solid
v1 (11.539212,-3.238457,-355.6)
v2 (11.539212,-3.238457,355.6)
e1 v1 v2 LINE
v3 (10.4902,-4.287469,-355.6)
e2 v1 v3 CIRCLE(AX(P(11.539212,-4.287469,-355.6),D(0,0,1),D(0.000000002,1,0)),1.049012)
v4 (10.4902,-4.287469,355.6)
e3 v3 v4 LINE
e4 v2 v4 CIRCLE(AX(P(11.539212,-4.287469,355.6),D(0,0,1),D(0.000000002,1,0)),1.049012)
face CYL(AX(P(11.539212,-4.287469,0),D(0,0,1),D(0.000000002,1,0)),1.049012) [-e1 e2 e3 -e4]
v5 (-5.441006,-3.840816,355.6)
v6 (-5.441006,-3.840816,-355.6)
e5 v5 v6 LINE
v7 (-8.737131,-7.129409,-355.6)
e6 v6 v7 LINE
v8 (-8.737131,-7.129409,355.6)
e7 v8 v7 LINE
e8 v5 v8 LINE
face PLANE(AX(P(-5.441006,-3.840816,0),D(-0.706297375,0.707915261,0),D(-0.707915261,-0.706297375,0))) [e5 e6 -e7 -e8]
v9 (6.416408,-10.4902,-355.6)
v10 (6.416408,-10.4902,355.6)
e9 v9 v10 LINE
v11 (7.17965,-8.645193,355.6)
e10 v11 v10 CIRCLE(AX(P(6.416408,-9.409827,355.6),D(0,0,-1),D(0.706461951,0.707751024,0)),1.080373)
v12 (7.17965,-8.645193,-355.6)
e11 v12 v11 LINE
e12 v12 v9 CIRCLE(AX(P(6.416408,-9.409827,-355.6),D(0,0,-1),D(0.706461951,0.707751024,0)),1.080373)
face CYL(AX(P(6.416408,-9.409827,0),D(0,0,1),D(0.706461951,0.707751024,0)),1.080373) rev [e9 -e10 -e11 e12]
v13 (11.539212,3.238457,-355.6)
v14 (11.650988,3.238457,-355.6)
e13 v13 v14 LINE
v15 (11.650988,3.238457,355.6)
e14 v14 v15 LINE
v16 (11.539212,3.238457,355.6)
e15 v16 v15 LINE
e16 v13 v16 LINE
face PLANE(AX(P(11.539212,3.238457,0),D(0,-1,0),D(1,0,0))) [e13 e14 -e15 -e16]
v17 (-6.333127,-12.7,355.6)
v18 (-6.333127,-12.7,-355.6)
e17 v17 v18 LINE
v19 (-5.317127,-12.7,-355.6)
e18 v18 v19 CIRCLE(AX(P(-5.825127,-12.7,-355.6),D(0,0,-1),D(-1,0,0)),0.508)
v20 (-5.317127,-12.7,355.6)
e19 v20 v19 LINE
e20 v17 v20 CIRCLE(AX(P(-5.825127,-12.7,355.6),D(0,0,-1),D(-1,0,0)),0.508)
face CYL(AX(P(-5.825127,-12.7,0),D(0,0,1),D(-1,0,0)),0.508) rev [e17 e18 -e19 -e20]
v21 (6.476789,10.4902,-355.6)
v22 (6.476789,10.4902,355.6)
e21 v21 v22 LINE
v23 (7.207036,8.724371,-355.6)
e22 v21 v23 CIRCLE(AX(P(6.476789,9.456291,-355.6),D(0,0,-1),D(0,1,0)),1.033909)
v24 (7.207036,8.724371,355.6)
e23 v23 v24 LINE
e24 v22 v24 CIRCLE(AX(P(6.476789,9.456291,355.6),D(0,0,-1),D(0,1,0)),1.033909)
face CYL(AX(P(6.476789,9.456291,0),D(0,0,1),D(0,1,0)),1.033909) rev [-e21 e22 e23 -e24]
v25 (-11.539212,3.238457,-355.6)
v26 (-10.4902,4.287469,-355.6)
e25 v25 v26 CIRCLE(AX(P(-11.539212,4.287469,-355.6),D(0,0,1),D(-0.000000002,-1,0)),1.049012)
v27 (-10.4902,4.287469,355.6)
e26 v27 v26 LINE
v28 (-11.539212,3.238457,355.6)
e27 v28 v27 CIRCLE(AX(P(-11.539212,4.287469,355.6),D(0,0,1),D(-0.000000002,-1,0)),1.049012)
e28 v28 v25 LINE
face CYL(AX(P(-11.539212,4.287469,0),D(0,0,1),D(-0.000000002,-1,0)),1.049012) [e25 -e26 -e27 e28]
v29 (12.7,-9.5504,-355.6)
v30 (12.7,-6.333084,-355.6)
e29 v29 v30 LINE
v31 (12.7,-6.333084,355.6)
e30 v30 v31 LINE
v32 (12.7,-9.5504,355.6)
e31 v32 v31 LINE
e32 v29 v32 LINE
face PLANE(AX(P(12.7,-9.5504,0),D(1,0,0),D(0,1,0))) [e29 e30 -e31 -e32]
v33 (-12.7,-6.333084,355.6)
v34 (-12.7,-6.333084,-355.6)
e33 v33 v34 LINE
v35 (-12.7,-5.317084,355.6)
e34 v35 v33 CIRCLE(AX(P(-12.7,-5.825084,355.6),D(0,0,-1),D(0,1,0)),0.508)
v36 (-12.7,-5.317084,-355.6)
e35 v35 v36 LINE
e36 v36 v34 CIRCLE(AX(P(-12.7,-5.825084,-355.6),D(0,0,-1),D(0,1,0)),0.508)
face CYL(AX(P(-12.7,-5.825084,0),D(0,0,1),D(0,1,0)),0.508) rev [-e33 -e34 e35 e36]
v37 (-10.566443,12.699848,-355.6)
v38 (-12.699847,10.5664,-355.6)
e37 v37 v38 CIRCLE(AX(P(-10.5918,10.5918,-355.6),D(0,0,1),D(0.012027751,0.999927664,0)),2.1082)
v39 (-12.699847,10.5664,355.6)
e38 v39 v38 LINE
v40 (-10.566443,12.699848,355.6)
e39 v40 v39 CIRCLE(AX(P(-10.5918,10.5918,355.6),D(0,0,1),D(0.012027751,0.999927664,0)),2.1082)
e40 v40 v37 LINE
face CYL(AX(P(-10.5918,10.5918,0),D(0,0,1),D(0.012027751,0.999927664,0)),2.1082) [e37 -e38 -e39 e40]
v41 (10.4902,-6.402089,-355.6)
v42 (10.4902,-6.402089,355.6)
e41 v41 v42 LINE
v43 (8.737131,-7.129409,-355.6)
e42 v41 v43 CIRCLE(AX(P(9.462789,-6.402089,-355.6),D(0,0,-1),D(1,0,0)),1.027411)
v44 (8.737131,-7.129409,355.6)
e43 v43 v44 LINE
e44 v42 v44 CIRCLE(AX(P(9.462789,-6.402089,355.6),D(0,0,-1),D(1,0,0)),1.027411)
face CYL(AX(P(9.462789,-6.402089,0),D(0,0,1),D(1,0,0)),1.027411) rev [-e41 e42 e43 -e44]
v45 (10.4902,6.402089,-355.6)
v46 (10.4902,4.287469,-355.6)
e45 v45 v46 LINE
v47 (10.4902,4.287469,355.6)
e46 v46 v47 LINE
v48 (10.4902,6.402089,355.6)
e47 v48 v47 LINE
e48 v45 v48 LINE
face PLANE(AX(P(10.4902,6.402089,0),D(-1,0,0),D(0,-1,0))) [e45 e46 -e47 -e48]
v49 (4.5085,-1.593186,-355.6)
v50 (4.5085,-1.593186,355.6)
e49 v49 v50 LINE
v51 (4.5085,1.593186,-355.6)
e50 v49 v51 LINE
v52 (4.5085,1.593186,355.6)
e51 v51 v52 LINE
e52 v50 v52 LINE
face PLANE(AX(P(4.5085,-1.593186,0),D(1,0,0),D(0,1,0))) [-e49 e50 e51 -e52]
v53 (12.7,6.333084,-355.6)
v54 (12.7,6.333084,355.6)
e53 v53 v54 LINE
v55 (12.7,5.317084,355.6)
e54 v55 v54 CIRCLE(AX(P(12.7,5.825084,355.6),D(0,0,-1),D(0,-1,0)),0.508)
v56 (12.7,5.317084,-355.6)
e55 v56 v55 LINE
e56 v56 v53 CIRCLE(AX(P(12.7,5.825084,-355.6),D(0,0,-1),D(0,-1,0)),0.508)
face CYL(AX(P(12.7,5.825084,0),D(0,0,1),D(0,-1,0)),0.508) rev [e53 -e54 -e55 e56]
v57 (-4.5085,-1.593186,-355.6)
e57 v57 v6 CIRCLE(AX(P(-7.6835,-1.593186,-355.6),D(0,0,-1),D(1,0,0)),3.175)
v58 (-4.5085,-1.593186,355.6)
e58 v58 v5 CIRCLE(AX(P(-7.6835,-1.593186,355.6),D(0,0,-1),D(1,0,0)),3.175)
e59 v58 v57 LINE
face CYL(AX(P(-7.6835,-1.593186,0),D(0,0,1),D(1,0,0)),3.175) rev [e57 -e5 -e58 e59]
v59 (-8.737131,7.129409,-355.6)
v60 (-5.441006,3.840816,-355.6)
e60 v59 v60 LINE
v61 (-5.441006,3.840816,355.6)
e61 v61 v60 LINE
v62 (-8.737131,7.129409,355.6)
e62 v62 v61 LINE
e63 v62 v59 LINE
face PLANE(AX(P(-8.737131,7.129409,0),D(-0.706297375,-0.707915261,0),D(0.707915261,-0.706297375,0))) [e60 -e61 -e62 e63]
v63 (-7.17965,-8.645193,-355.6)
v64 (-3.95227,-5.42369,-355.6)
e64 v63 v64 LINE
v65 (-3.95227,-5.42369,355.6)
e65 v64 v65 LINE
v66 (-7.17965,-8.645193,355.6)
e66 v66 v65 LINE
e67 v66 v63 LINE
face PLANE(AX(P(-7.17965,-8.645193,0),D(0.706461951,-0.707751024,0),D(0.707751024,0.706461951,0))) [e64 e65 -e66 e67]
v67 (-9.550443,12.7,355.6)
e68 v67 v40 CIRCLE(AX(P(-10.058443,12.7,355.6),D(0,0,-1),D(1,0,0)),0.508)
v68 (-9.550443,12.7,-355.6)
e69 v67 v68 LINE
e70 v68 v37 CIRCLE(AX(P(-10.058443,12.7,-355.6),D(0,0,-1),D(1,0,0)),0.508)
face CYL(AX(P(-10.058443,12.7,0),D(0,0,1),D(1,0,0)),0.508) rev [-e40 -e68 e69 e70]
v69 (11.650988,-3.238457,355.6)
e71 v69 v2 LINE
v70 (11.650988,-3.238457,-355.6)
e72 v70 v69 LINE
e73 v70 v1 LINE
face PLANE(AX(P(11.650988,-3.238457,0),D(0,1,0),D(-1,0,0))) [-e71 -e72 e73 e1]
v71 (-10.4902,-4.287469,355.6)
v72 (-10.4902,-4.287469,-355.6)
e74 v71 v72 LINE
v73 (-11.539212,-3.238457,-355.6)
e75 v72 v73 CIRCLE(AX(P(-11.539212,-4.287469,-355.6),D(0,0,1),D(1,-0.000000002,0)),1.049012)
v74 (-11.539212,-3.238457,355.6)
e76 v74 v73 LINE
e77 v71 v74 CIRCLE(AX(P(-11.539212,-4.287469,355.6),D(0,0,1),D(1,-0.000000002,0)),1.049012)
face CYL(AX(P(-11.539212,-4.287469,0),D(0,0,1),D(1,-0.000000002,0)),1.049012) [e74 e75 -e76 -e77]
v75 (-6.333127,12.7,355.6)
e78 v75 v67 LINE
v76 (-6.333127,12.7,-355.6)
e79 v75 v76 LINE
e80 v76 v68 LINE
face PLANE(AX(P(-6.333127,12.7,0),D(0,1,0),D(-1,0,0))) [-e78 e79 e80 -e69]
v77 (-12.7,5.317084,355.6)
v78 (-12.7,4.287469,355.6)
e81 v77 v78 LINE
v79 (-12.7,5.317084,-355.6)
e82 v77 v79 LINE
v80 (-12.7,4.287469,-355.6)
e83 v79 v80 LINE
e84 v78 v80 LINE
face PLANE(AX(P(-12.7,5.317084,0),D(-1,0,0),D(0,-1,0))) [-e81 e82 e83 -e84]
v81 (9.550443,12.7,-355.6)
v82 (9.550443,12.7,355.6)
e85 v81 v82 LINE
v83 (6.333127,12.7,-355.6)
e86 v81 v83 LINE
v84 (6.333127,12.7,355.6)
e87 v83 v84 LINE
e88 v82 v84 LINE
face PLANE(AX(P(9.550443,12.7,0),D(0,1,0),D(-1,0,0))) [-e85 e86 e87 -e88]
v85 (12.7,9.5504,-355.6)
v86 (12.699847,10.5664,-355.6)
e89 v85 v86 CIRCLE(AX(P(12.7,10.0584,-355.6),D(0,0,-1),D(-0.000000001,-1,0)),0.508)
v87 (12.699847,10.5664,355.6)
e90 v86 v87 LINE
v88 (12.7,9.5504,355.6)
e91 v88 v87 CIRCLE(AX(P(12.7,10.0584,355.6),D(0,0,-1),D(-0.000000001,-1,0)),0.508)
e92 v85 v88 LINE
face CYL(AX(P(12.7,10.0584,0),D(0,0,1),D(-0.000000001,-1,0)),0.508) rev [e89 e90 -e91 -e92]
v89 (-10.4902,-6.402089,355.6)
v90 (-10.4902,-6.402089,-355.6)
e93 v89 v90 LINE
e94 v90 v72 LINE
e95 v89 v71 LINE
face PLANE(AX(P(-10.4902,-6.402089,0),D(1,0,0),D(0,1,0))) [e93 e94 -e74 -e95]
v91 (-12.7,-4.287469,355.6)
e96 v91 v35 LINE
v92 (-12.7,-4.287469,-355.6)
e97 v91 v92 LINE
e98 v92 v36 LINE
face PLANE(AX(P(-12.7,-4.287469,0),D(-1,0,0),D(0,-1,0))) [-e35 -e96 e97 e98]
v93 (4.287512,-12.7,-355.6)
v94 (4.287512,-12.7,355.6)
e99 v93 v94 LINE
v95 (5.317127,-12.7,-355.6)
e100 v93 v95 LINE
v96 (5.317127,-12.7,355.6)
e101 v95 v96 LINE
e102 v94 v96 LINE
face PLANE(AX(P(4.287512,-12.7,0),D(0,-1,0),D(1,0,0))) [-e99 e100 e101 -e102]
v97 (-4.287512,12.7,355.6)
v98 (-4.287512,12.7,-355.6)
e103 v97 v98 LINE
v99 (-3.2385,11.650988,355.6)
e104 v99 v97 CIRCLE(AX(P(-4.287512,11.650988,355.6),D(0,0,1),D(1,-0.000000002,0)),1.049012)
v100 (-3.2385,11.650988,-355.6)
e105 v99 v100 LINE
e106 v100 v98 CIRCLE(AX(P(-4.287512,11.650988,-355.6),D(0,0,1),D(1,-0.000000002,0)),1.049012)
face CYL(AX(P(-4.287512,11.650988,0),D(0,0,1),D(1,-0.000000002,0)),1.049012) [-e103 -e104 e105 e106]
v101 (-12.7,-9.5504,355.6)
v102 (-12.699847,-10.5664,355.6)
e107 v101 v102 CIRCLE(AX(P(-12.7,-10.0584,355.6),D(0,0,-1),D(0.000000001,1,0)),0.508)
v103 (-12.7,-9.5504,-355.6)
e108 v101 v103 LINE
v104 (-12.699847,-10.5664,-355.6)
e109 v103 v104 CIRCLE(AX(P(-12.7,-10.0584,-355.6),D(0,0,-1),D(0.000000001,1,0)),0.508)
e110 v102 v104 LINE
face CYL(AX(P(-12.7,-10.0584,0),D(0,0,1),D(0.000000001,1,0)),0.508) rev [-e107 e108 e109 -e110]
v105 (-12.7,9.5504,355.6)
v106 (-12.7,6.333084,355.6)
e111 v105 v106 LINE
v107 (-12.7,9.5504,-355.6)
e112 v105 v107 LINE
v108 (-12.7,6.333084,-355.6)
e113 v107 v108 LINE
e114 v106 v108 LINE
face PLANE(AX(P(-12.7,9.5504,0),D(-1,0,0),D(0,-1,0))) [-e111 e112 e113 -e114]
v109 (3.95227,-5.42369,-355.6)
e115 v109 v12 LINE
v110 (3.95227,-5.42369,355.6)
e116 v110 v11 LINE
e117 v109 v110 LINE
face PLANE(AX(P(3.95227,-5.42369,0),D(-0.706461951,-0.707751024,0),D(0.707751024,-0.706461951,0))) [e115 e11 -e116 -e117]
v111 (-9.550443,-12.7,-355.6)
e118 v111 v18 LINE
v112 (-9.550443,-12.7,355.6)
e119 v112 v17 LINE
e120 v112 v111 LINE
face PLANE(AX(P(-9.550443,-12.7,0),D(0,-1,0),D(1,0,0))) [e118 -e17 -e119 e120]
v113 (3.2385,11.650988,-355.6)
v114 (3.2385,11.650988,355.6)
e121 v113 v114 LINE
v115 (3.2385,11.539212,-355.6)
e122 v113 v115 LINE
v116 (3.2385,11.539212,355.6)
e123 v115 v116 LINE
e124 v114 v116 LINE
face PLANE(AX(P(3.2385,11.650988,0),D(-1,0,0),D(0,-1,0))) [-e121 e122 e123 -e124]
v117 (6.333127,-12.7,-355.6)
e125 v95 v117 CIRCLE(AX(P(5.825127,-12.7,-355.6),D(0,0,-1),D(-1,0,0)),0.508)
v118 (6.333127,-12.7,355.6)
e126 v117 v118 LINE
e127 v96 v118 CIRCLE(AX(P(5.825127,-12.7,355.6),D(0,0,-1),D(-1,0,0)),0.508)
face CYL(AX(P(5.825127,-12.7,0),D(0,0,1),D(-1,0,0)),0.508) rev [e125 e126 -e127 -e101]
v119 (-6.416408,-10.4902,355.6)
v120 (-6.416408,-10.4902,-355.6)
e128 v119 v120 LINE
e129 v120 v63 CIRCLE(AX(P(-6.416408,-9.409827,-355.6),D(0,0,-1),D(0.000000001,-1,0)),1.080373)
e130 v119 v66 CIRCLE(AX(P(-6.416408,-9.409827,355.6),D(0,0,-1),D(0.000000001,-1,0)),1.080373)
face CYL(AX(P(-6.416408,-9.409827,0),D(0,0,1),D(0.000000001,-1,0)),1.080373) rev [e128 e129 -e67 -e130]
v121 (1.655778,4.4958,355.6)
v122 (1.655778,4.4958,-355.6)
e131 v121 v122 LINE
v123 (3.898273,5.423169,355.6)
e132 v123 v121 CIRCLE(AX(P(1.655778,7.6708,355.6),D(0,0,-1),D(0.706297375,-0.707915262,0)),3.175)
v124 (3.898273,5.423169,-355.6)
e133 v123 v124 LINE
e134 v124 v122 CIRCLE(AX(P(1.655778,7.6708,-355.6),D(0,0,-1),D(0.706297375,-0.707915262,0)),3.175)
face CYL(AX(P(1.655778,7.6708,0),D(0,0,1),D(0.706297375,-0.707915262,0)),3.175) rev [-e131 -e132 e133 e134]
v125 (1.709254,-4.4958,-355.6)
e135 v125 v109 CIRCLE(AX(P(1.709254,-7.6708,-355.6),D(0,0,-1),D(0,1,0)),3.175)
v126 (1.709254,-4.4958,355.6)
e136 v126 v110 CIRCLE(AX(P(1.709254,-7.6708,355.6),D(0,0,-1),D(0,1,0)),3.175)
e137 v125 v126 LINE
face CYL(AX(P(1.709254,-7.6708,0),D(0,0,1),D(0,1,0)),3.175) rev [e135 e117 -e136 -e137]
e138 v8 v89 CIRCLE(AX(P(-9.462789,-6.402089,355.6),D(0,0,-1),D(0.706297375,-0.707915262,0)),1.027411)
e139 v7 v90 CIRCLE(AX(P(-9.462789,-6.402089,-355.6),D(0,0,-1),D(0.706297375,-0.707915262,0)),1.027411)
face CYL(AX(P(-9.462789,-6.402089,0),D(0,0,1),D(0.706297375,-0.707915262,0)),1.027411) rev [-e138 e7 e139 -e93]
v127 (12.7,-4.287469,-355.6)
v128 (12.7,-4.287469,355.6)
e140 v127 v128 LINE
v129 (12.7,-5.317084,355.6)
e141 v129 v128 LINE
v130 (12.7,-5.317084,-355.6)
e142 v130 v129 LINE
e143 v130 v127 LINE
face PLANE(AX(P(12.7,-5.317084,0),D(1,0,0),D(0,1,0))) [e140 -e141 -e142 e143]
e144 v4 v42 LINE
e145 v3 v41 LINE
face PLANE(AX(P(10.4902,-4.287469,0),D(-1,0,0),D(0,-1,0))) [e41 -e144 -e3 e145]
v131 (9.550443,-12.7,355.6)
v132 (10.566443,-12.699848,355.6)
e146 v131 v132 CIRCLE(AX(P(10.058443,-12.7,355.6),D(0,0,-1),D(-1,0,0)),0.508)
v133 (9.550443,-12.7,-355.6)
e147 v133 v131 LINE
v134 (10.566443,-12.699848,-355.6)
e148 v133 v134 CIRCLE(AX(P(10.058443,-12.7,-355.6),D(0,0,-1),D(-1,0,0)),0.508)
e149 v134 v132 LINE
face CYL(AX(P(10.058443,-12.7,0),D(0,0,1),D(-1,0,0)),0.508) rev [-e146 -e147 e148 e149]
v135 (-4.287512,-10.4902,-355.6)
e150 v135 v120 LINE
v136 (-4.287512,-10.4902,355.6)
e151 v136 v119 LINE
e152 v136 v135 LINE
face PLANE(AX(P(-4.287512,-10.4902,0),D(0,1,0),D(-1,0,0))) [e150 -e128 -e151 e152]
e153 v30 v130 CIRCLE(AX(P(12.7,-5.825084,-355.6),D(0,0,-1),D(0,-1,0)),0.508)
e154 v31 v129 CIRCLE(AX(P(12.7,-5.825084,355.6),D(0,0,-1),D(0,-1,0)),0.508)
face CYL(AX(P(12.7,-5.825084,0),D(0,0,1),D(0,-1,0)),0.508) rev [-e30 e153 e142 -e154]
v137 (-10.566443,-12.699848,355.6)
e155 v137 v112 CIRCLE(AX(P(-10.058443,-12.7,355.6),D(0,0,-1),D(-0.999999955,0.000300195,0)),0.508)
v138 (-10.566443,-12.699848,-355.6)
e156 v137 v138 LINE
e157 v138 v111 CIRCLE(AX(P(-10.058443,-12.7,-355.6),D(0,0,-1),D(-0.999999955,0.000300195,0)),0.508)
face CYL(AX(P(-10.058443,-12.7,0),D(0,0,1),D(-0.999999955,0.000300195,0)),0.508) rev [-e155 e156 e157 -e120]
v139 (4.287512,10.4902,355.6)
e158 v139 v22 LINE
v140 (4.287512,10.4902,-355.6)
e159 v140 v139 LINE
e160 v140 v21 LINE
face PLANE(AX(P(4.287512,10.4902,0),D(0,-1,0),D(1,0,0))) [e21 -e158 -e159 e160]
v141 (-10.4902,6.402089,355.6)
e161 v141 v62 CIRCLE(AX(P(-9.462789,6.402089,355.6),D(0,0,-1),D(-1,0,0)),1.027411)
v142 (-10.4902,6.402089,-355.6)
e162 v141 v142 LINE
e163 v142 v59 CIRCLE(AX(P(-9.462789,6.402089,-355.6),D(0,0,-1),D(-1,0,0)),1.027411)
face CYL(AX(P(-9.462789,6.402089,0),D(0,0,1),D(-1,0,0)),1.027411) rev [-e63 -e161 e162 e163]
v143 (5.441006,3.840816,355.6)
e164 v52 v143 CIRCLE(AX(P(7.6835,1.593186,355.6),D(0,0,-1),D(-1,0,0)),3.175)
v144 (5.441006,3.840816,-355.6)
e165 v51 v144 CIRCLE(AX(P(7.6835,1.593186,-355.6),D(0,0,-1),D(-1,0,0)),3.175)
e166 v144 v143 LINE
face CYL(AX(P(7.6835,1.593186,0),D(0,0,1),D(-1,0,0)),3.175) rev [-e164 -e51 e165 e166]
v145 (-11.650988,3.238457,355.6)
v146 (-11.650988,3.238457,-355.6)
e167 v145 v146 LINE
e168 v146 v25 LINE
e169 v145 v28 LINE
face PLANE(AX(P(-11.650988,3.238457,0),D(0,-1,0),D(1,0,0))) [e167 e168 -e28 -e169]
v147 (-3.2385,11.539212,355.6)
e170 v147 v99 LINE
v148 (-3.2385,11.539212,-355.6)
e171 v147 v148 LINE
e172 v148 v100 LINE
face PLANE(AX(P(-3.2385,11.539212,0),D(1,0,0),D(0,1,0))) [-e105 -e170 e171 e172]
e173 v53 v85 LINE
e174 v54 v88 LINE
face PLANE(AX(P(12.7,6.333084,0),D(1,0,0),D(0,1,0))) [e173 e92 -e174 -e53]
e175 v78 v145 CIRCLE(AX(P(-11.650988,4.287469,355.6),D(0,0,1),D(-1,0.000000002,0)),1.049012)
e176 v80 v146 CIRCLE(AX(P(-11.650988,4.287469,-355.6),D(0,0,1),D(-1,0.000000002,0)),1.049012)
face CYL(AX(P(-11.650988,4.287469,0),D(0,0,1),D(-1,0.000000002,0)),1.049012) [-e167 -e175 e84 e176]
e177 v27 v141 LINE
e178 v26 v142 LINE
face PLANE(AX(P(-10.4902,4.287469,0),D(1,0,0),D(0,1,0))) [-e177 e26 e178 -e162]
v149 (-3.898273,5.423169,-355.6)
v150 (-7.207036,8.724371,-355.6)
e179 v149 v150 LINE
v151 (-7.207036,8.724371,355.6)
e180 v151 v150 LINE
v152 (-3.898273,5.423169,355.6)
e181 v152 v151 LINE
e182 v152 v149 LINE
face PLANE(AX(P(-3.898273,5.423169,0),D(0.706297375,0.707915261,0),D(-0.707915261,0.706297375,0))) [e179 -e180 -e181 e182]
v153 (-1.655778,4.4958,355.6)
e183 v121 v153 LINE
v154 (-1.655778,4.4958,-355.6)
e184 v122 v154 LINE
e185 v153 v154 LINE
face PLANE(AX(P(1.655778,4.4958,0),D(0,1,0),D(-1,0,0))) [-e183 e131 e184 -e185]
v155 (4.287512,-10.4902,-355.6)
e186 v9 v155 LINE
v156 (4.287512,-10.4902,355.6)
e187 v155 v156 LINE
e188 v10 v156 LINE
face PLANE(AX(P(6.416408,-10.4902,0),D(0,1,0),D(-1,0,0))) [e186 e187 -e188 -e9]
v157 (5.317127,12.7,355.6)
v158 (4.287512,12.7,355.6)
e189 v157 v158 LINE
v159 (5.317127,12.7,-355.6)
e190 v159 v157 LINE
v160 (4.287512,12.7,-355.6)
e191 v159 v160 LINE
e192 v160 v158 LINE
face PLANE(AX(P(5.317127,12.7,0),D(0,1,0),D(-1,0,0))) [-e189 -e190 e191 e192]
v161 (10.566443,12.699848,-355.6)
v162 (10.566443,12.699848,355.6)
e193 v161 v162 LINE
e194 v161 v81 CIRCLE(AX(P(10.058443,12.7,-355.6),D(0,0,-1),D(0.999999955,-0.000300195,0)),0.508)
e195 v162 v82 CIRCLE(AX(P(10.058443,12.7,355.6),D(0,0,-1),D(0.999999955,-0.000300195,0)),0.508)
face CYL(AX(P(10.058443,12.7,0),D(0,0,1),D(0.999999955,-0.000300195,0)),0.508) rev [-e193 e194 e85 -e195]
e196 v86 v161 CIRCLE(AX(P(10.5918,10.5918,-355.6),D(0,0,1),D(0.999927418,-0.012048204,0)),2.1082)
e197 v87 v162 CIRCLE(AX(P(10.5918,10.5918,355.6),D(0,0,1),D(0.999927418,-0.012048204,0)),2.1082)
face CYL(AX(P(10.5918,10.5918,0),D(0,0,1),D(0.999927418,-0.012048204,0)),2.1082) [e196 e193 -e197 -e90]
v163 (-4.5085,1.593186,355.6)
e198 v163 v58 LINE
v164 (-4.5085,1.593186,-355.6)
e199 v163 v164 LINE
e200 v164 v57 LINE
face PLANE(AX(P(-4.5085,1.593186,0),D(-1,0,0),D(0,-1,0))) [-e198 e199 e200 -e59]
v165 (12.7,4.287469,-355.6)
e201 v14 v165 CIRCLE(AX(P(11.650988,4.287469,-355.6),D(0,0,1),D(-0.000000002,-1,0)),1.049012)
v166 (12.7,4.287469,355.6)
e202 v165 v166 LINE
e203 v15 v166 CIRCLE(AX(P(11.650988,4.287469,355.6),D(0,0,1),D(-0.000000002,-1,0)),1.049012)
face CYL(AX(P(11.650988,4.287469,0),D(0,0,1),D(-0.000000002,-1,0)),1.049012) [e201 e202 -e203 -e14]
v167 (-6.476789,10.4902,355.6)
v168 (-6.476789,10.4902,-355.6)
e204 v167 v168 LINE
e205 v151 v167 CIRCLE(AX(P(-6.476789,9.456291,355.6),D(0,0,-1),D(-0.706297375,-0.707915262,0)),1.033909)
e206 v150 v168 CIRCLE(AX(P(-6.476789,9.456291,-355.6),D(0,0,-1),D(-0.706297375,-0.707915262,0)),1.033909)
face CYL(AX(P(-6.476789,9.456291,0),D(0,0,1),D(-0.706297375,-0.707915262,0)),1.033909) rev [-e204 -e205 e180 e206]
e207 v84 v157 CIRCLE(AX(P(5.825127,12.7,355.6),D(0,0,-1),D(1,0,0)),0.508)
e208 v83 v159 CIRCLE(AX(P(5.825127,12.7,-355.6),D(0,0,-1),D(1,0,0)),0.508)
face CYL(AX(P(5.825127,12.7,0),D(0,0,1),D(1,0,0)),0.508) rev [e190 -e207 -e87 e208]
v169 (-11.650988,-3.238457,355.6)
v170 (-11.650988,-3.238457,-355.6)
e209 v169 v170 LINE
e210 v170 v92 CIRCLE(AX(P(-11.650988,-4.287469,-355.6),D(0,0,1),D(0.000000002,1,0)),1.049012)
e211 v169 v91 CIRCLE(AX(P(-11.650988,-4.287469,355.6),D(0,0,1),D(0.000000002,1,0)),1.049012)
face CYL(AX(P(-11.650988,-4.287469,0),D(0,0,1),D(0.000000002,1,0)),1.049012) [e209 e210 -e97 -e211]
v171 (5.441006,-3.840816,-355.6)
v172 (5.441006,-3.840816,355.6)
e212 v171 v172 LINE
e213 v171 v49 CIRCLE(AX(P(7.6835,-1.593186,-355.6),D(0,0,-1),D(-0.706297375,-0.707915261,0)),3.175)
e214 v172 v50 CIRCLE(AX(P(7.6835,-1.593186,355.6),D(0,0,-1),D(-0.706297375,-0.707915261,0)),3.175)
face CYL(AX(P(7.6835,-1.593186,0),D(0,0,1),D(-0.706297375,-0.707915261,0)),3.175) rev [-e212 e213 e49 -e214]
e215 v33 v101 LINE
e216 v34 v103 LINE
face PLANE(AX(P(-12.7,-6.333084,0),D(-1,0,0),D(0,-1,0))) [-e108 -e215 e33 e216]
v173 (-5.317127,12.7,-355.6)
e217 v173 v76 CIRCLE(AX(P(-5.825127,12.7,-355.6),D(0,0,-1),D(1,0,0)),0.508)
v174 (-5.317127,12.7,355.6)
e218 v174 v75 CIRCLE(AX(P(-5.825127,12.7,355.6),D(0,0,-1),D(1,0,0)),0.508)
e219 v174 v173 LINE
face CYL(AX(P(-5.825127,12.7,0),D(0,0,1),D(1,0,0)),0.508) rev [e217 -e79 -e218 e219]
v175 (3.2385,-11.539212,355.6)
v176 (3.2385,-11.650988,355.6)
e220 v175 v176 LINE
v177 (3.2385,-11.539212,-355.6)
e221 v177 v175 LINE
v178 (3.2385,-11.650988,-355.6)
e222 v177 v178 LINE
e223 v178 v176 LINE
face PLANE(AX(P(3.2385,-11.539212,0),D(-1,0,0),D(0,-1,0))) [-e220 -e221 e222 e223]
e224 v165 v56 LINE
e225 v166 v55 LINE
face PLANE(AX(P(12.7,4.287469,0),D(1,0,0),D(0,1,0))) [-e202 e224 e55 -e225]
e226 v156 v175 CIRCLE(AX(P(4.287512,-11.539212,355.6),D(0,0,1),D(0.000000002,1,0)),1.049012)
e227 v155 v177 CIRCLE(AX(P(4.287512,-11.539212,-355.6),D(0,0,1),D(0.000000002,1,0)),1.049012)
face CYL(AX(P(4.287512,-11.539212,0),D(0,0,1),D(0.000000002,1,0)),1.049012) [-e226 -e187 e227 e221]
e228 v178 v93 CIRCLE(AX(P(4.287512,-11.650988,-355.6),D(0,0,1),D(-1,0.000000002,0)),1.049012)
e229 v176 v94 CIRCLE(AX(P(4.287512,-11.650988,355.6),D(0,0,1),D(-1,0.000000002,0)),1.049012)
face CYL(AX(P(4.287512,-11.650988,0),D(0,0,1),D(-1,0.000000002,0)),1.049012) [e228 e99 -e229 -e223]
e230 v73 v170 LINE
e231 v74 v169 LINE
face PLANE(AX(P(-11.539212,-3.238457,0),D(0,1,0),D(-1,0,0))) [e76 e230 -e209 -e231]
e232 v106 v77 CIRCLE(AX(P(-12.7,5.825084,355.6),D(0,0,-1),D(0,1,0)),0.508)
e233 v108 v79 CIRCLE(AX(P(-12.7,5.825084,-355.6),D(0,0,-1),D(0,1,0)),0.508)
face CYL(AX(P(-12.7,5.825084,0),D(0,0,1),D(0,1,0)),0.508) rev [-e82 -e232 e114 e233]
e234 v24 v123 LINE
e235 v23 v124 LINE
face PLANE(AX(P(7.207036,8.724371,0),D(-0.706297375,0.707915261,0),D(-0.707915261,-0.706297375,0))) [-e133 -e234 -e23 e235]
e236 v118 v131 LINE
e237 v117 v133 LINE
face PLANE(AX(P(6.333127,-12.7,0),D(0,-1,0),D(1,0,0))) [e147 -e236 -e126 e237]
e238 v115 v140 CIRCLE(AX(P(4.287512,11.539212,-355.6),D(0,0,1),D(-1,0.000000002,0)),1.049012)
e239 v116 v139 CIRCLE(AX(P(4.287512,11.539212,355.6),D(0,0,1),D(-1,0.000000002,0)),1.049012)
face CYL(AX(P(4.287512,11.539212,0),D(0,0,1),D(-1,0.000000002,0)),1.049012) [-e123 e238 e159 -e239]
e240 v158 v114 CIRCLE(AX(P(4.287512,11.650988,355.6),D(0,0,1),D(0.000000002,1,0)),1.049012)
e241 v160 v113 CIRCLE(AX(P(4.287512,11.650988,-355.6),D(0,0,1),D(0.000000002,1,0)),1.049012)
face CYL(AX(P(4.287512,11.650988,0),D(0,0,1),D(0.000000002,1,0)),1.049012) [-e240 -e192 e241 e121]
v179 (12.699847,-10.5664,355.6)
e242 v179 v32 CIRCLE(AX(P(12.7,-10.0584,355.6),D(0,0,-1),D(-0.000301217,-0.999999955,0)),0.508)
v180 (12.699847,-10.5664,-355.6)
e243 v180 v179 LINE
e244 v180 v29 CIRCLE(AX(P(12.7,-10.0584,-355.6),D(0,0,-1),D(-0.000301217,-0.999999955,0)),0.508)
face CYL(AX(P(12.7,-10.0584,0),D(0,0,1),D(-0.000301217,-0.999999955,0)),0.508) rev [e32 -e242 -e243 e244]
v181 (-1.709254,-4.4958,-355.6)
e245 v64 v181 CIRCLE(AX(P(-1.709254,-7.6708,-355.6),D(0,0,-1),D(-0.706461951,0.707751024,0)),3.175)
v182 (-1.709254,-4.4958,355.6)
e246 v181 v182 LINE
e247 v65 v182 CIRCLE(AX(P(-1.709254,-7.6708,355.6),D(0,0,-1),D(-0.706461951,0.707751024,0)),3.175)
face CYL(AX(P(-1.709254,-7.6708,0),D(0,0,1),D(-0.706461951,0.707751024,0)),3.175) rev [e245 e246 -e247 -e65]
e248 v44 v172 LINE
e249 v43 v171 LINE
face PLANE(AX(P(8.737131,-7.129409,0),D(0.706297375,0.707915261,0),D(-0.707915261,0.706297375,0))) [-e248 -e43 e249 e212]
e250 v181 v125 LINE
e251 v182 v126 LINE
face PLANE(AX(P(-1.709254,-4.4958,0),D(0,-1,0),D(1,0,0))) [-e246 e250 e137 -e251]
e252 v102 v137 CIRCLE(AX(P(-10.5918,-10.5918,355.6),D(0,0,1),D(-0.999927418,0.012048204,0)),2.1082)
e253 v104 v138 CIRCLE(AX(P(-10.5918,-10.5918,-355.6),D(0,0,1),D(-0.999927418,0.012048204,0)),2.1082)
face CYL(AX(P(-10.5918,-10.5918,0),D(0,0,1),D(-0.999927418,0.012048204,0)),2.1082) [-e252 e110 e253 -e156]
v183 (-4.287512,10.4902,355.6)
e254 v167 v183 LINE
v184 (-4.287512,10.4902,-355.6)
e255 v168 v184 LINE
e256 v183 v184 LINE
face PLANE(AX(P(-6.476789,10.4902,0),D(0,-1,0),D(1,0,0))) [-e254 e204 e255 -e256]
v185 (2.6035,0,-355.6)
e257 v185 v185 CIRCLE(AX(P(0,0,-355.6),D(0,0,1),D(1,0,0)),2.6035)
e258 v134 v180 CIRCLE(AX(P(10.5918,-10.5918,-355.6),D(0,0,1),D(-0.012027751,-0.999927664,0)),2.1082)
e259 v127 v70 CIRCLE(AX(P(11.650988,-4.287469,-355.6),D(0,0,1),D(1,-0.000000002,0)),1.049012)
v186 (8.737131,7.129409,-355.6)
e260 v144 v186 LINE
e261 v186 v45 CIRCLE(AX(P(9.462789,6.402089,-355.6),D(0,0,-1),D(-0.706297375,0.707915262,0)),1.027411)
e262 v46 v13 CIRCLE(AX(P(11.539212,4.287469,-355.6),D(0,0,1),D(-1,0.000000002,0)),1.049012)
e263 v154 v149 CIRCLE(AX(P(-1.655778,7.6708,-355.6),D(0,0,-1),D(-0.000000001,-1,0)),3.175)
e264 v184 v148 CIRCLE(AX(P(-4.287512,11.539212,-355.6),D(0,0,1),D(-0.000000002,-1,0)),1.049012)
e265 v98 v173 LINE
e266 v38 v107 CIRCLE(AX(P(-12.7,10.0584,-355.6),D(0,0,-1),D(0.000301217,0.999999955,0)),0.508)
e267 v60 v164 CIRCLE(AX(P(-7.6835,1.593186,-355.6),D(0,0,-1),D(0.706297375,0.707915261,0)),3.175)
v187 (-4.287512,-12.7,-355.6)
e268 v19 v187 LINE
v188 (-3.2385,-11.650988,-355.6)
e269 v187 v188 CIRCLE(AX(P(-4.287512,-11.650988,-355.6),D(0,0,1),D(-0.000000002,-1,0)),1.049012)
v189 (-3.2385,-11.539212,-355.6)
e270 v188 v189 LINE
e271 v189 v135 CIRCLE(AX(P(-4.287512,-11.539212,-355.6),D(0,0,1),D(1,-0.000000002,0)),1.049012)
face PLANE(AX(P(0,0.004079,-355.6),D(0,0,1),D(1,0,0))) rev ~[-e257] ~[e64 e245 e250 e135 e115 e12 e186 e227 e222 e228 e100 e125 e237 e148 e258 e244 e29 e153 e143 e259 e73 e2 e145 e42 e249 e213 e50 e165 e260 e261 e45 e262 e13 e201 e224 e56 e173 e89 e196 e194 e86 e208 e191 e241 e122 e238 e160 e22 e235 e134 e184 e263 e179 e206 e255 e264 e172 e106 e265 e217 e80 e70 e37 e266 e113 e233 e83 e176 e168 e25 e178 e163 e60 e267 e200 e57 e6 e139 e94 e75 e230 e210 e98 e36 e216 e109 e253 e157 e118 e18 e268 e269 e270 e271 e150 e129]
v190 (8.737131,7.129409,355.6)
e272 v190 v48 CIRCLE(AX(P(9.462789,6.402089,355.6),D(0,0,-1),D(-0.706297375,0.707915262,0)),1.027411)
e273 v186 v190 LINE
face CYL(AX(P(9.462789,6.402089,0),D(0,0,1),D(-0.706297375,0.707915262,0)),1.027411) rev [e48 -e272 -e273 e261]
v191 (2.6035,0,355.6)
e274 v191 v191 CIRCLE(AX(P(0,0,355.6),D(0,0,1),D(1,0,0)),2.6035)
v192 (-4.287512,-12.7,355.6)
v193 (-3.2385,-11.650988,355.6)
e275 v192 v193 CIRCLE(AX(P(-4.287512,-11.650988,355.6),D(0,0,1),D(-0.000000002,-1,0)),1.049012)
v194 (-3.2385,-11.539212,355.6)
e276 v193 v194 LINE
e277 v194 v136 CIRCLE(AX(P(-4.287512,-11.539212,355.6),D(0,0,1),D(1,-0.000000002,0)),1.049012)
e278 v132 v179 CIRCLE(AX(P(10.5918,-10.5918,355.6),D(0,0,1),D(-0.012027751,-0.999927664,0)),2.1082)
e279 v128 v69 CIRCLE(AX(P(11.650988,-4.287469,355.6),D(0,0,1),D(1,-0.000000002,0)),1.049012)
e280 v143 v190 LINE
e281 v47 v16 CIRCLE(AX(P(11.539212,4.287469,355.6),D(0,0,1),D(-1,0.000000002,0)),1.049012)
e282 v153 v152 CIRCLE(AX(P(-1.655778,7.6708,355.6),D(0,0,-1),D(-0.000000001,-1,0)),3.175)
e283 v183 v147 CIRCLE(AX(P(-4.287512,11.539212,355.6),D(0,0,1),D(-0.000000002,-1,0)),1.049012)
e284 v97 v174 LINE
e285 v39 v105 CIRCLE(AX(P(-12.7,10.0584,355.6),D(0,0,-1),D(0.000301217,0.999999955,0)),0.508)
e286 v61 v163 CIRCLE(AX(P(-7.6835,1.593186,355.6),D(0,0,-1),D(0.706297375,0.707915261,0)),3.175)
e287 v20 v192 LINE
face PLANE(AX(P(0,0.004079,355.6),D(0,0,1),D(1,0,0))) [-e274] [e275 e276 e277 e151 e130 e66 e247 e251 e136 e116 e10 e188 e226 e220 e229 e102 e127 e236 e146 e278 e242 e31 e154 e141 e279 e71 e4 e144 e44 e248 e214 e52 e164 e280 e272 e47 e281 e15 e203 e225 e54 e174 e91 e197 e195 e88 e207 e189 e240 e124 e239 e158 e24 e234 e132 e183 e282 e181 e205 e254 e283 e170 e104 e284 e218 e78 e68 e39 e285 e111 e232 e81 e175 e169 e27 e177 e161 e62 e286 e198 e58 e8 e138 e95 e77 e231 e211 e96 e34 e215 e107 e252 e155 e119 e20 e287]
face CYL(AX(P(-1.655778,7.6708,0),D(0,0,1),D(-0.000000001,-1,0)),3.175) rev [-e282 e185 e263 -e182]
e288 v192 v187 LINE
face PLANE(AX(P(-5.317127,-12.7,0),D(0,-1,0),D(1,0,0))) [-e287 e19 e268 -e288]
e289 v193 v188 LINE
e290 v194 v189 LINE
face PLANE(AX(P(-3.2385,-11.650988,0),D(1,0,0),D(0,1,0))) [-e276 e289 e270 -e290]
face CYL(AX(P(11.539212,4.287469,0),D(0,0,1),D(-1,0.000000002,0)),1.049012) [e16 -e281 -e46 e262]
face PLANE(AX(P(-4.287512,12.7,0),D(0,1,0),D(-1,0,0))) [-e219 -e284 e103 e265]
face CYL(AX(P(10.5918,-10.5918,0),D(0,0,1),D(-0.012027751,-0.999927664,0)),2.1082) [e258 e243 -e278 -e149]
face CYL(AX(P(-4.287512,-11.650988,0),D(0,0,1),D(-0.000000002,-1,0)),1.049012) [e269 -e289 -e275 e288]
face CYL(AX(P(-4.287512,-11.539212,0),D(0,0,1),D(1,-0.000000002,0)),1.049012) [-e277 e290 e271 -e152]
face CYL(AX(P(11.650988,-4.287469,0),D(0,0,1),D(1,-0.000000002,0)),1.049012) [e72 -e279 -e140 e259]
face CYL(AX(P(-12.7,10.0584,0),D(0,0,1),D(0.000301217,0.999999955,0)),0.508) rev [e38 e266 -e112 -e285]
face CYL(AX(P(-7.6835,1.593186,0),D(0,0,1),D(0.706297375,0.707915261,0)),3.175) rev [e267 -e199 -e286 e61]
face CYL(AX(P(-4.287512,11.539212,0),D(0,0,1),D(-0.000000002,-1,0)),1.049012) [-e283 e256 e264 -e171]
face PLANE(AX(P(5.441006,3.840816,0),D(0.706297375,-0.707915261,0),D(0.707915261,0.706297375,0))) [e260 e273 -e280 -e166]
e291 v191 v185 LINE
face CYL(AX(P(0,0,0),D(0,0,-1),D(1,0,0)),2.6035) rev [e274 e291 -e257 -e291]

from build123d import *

# Parameters (mm, degrees)
SKETCH1_R           = 2.6035
BOSS_EXTRUDE1_DEPTH = 355.6


with BuildPart() as part:
    # Sketch1 → Boss-Extrude1 (new body, symmetric)
    with BuildSketch(Plane.XY):
        with BuildLine():
            Line((-7.179650497, -8.645192506), (-3.952270251, -5.423690499))
            ThreePointArc((-3.952270251, -5.423690499), (-2.922936451, -4.736929036), (-1.709253557, -4.4958))
            Line((-1.709253557, -4.4958), (1.709253557, -4.4958))
            ThreePointArc((1.709253557, -4.4958), (2.922936451, -4.736929036), (3.952270251, -5.423690499))
            Line((3.952270251, -5.423690499), (7.179650497, -8.645192506))
            ThreePointArc((7.179650497, -8.645192506), (7.41473083, -9.822813117), (6.416408329, -10.4902))
            Line((6.416408329, -10.4902), (4.287512407, -10.4902))
            ThreePointArc((4.287512407, -10.4902), (3.54574862, -10.79744862), (3.2385, -11.539212407))
            Line((3.2385, -11.539212407), (3.2385, -11.650987593))
            ThreePointArc((3.2385, -11.650987593), (3.54574862, -12.39275138), (4.287512407, -12.7))
            Line((4.287512407, -12.7), (5.317126718, -12.7))
            ThreePointArc((5.317126718, -12.7), (5.825126718, -12.192), (6.333126718, -12.7))
            Line((6.333126718, -12.7), (9.550443118, -12.7))
            ThreePointArc((9.550443118, -12.7), (10.058366869, -12.192000006), (10.566443095, -12.699847501))
            ThreePointArc((10.566443095, -12.699847501), (12.082537762, -12.08250727), (12.699846982, -10.566399977))
            ThreePointArc((12.699846982, -10.566399977), (12.192000006, -10.058323491), (12.7, -9.5504))
            Line((12.7, -9.5504), (12.7, -6.3330836))
            ThreePointArc((12.7, -6.3330836), (12.192, -5.8250836), (12.7, -5.3170836))
            Line((12.7, -5.3170836), (12.7, -4.287469289))
            ThreePointArc((12.7, -4.287469289), (12.39275138, -3.545705502), (11.650987593, -3.238456882))
            Line((11.650987593, -3.238456882), (11.539212407, -3.238456882))
            ThreePointArc((11.539212407, -3.238456882), (10.79744862, -3.545705502), (10.4902, -4.287469289))
            Line((10.4902, -4.287469289), (10.4902, -6.402089023))
            ThreePointArc((10.4902, -6.402089023), (9.856505071, -7.351067942), (8.737131347, -7.129408934))
            Line((8.737131347, -7.129408934), (5.441005833, -3.840816462))
            ThreePointArc((5.441005833, -3.840816462), (4.750877967, -2.809883091), (4.5085, -1.593185507))
            Line((4.5085, -1.593185507), (4.5085, 1.593185507))
            ThreePointArc((4.5085, 1.593185507), (4.750877967, 2.809883091), (5.441005833, 3.840816462))
            Line((5.441005833, 3.840816462), (8.737131347, 7.129408934))
            ThreePointArc((8.737131347, 7.129408934), (9.856505071, 7.351067942), (10.4902, 6.402089023))
            Line((10.4902, 6.402089023), (10.4902, 4.287469289))
            ThreePointArc((10.4902, 4.287469289), (10.79744862, 3.545705502), (11.539212407, 3.238456882))
            Line((11.539212407, 3.238456882), (11.650987593, 3.238456882))
            ThreePointArc((11.650987593, 3.238456882), (12.39275138, 3.545705502), (12.7, 4.287469289))
            Line((12.7, 4.287469289), (12.7, 5.3170836))
            ThreePointArc((12.7, 5.3170836), (12.192, 5.8250836), (12.7, 6.3330836))
            Line((12.7, 6.3330836), (12.7, 9.5504))
            ThreePointArc((12.7, 9.5504), (12.192000006, 10.058323491), (12.699846982, 10.566399977))
            ThreePointArc((12.699846982, 10.566399977), (12.082537762, 12.08250727), (10.566443095, 12.699847501))
            ThreePointArc((10.566443095, 12.699847501), (10.058366869, 12.192000006), (9.550443118, 12.7))
            Line((9.550443118, 12.7), (6.333126718, 12.7))
            ThreePointArc((6.333126718, 12.7), (5.825126718, 12.192), (5.317126718, 12.7))
            Line((5.317126718, 12.7), (4.287512407, 12.7))
            ThreePointArc((4.287512407, 12.7), (3.54574862, 12.39275138), (3.2385, 11.650987593))
            Line((3.2385, 11.650987593), (3.2385, 11.539212407))
            ThreePointArc((3.2385, 11.539212407), (3.54574862, 10.79744862), (4.287512407, 10.4902))
            Line((4.287512407, 10.4902), (6.476788598, 10.4902))
            ThreePointArc((6.476788598, 10.4902), (7.432222385, 9.85140422), (7.207036008, 8.724370562))
            Line((7.207036008, 8.724370562), (3.898272566, 5.423169045))
            ThreePointArc((3.898272566, 5.423169045), (2.869120213, 4.736787962), (1.655778399, 4.4958))
            Line((1.655778399, 4.4958), (-1.655778399, 4.4958))
            ThreePointArc((-1.655778399, 4.4958), (-2.869120213, 4.736787962), (-3.898272566, 5.423169045))
            Line((-3.898272566, 5.423169045), (-7.207036008, 8.724370562))
            ThreePointArc((-7.207036008, 8.724370562), (-7.432222385, 9.85140422), (-6.476788598, 10.4902))
            Line((-6.476788598, 10.4902), (-4.287512407, 10.4902))
            ThreePointArc((-4.287512407, 10.4902), (-3.54574862, 10.79744862), (-3.2385, 11.539212407))
            Line((-3.2385, 11.539212407), (-3.2385, 11.650987593))
            ThreePointArc((-3.2385, 11.650987593), (-3.54574862, 12.39275138), (-4.287512407, 12.7))
            Line((-4.287512407, 12.7), (-5.317126718, 12.7))
            ThreePointArc((-5.317126718, 12.7), (-5.825126718, 12.192), (-6.333126718, 12.7))
            Line((-6.333126718, 12.7), (-9.550443118, 12.7))
            ThreePointArc((-9.550443118, 12.7), (-10.058366869, 12.192000006), (-10.566443095, 12.699847501))
            ThreePointArc((-10.566443095, 12.699847501), (-12.082537762, 12.08250727), (-12.699846982, 10.566399977))
            ThreePointArc((-12.699846982, 10.566399977), (-12.192000006, 10.058323491), (-12.7, 9.5504))
            Line((-12.7, 9.5504), (-12.7, 6.3330836))
            ThreePointArc((-12.7, 6.3330836), (-12.192, 5.8250836), (-12.7, 5.3170836))
            Line((-12.7, 5.3170836), (-12.7, 4.287469289))
            ThreePointArc((-12.7, 4.287469289), (-12.39275138, 3.545705502), (-11.650987593, 3.238456882))
            Line((-11.650987593, 3.238456882), (-11.539212407, 3.238456882))
            ThreePointArc((-11.539212407, 3.238456882), (-10.79744862, 3.545705502), (-10.4902, 4.287469289))
            Line((-10.4902, 4.287469289), (-10.4902, 6.402089023))
            ThreePointArc((-10.4902, 6.402089023), (-9.856505071, 7.351067942), (-8.737131347, 7.129408934))
            Line((-8.737131347, 7.129408934), (-5.441005833, 3.840816462))
            ThreePointArc((-5.441005833, 3.840816462), (-4.750877967, 2.809883091), (-4.5085, 1.593185507))
            Line((-4.5085, 1.593185507), (-4.5085, -1.593185507))
            ThreePointArc((-4.5085, -1.593185507), (-4.750877967, -2.809883091), (-5.441005833, -3.840816462))
            Line((-5.441005833, -3.840816462), (-8.737131347, -7.129408934))
            ThreePointArc((-8.737131347, -7.129408934), (-9.856505071, -7.351067942), (-10.4902, -6.402089023))
            Line((-10.4902, -6.402089023), (-10.4902, -4.287469289))
            ThreePointArc((-10.4902, -4.287469289), (-10.79744862, -3.545705502), (-11.539212407, -3.238456882))
            Line((-11.539212407, -3.238456882), (-11.650987593, -3.238456882))
            ThreePointArc((-11.650987593, -3.238456882), (-12.39275138, -3.545705502), (-12.7, -4.287469289))
            Line((-12.7, -4.287469289), (-12.7, -5.3170836))
            ThreePointArc((-12.7, -5.3170836), (-12.192, -5.8250836), (-12.7, -6.3330836))
            Line((-12.7, -6.3330836), (-12.7, -9.5504))
            ThreePointArc((-12.7, -9.5504), (-12.192000006, -10.058323491), (-12.699846982, -10.566399977))
            ThreePointArc((-12.699846982, -10.566399977), (-12.082537762, -12.08250727), (-10.566443095, -12.699847501))
            ThreePointArc((-10.566443095, -12.699847501), (-10.058366869, -12.192000006), (-9.550443118, -12.7))
            Line((-9.550443118, -12.7), (-6.333126718, -12.7))
            ThreePointArc((-6.333126718, -12.7), (-5.825126718, -12.192), (-5.317126718, -12.7))
            Line((-5.317126718, -12.7), (-4.287512407, -12.7))
            ThreePointArc((-4.287512407, -12.7), (-3.54574862, -12.39275138), (-3.2385, -11.650987593))
            Line((-3.2385, -11.650987593), (-3.2385, -11.539212407))
            ThreePointArc((-3.2385, -11.539212407), (-3.54574862, -10.79744862), (-4.287512407, -10.4902))
            Line((-4.287512407, -10.4902), (-6.416408329, -10.4902))
            ThreePointArc((-6.416408329, -10.4902), (-7.41473083, -9.822813117), (-7.179650497, -8.645192506))
        make_face()
        Circle(SKETCH1_R, mode=Mode.SUBTRACT)
    extrude(amount=BOSS_EXTRUDE1_DEPTH, both=True)


solid = part.part
